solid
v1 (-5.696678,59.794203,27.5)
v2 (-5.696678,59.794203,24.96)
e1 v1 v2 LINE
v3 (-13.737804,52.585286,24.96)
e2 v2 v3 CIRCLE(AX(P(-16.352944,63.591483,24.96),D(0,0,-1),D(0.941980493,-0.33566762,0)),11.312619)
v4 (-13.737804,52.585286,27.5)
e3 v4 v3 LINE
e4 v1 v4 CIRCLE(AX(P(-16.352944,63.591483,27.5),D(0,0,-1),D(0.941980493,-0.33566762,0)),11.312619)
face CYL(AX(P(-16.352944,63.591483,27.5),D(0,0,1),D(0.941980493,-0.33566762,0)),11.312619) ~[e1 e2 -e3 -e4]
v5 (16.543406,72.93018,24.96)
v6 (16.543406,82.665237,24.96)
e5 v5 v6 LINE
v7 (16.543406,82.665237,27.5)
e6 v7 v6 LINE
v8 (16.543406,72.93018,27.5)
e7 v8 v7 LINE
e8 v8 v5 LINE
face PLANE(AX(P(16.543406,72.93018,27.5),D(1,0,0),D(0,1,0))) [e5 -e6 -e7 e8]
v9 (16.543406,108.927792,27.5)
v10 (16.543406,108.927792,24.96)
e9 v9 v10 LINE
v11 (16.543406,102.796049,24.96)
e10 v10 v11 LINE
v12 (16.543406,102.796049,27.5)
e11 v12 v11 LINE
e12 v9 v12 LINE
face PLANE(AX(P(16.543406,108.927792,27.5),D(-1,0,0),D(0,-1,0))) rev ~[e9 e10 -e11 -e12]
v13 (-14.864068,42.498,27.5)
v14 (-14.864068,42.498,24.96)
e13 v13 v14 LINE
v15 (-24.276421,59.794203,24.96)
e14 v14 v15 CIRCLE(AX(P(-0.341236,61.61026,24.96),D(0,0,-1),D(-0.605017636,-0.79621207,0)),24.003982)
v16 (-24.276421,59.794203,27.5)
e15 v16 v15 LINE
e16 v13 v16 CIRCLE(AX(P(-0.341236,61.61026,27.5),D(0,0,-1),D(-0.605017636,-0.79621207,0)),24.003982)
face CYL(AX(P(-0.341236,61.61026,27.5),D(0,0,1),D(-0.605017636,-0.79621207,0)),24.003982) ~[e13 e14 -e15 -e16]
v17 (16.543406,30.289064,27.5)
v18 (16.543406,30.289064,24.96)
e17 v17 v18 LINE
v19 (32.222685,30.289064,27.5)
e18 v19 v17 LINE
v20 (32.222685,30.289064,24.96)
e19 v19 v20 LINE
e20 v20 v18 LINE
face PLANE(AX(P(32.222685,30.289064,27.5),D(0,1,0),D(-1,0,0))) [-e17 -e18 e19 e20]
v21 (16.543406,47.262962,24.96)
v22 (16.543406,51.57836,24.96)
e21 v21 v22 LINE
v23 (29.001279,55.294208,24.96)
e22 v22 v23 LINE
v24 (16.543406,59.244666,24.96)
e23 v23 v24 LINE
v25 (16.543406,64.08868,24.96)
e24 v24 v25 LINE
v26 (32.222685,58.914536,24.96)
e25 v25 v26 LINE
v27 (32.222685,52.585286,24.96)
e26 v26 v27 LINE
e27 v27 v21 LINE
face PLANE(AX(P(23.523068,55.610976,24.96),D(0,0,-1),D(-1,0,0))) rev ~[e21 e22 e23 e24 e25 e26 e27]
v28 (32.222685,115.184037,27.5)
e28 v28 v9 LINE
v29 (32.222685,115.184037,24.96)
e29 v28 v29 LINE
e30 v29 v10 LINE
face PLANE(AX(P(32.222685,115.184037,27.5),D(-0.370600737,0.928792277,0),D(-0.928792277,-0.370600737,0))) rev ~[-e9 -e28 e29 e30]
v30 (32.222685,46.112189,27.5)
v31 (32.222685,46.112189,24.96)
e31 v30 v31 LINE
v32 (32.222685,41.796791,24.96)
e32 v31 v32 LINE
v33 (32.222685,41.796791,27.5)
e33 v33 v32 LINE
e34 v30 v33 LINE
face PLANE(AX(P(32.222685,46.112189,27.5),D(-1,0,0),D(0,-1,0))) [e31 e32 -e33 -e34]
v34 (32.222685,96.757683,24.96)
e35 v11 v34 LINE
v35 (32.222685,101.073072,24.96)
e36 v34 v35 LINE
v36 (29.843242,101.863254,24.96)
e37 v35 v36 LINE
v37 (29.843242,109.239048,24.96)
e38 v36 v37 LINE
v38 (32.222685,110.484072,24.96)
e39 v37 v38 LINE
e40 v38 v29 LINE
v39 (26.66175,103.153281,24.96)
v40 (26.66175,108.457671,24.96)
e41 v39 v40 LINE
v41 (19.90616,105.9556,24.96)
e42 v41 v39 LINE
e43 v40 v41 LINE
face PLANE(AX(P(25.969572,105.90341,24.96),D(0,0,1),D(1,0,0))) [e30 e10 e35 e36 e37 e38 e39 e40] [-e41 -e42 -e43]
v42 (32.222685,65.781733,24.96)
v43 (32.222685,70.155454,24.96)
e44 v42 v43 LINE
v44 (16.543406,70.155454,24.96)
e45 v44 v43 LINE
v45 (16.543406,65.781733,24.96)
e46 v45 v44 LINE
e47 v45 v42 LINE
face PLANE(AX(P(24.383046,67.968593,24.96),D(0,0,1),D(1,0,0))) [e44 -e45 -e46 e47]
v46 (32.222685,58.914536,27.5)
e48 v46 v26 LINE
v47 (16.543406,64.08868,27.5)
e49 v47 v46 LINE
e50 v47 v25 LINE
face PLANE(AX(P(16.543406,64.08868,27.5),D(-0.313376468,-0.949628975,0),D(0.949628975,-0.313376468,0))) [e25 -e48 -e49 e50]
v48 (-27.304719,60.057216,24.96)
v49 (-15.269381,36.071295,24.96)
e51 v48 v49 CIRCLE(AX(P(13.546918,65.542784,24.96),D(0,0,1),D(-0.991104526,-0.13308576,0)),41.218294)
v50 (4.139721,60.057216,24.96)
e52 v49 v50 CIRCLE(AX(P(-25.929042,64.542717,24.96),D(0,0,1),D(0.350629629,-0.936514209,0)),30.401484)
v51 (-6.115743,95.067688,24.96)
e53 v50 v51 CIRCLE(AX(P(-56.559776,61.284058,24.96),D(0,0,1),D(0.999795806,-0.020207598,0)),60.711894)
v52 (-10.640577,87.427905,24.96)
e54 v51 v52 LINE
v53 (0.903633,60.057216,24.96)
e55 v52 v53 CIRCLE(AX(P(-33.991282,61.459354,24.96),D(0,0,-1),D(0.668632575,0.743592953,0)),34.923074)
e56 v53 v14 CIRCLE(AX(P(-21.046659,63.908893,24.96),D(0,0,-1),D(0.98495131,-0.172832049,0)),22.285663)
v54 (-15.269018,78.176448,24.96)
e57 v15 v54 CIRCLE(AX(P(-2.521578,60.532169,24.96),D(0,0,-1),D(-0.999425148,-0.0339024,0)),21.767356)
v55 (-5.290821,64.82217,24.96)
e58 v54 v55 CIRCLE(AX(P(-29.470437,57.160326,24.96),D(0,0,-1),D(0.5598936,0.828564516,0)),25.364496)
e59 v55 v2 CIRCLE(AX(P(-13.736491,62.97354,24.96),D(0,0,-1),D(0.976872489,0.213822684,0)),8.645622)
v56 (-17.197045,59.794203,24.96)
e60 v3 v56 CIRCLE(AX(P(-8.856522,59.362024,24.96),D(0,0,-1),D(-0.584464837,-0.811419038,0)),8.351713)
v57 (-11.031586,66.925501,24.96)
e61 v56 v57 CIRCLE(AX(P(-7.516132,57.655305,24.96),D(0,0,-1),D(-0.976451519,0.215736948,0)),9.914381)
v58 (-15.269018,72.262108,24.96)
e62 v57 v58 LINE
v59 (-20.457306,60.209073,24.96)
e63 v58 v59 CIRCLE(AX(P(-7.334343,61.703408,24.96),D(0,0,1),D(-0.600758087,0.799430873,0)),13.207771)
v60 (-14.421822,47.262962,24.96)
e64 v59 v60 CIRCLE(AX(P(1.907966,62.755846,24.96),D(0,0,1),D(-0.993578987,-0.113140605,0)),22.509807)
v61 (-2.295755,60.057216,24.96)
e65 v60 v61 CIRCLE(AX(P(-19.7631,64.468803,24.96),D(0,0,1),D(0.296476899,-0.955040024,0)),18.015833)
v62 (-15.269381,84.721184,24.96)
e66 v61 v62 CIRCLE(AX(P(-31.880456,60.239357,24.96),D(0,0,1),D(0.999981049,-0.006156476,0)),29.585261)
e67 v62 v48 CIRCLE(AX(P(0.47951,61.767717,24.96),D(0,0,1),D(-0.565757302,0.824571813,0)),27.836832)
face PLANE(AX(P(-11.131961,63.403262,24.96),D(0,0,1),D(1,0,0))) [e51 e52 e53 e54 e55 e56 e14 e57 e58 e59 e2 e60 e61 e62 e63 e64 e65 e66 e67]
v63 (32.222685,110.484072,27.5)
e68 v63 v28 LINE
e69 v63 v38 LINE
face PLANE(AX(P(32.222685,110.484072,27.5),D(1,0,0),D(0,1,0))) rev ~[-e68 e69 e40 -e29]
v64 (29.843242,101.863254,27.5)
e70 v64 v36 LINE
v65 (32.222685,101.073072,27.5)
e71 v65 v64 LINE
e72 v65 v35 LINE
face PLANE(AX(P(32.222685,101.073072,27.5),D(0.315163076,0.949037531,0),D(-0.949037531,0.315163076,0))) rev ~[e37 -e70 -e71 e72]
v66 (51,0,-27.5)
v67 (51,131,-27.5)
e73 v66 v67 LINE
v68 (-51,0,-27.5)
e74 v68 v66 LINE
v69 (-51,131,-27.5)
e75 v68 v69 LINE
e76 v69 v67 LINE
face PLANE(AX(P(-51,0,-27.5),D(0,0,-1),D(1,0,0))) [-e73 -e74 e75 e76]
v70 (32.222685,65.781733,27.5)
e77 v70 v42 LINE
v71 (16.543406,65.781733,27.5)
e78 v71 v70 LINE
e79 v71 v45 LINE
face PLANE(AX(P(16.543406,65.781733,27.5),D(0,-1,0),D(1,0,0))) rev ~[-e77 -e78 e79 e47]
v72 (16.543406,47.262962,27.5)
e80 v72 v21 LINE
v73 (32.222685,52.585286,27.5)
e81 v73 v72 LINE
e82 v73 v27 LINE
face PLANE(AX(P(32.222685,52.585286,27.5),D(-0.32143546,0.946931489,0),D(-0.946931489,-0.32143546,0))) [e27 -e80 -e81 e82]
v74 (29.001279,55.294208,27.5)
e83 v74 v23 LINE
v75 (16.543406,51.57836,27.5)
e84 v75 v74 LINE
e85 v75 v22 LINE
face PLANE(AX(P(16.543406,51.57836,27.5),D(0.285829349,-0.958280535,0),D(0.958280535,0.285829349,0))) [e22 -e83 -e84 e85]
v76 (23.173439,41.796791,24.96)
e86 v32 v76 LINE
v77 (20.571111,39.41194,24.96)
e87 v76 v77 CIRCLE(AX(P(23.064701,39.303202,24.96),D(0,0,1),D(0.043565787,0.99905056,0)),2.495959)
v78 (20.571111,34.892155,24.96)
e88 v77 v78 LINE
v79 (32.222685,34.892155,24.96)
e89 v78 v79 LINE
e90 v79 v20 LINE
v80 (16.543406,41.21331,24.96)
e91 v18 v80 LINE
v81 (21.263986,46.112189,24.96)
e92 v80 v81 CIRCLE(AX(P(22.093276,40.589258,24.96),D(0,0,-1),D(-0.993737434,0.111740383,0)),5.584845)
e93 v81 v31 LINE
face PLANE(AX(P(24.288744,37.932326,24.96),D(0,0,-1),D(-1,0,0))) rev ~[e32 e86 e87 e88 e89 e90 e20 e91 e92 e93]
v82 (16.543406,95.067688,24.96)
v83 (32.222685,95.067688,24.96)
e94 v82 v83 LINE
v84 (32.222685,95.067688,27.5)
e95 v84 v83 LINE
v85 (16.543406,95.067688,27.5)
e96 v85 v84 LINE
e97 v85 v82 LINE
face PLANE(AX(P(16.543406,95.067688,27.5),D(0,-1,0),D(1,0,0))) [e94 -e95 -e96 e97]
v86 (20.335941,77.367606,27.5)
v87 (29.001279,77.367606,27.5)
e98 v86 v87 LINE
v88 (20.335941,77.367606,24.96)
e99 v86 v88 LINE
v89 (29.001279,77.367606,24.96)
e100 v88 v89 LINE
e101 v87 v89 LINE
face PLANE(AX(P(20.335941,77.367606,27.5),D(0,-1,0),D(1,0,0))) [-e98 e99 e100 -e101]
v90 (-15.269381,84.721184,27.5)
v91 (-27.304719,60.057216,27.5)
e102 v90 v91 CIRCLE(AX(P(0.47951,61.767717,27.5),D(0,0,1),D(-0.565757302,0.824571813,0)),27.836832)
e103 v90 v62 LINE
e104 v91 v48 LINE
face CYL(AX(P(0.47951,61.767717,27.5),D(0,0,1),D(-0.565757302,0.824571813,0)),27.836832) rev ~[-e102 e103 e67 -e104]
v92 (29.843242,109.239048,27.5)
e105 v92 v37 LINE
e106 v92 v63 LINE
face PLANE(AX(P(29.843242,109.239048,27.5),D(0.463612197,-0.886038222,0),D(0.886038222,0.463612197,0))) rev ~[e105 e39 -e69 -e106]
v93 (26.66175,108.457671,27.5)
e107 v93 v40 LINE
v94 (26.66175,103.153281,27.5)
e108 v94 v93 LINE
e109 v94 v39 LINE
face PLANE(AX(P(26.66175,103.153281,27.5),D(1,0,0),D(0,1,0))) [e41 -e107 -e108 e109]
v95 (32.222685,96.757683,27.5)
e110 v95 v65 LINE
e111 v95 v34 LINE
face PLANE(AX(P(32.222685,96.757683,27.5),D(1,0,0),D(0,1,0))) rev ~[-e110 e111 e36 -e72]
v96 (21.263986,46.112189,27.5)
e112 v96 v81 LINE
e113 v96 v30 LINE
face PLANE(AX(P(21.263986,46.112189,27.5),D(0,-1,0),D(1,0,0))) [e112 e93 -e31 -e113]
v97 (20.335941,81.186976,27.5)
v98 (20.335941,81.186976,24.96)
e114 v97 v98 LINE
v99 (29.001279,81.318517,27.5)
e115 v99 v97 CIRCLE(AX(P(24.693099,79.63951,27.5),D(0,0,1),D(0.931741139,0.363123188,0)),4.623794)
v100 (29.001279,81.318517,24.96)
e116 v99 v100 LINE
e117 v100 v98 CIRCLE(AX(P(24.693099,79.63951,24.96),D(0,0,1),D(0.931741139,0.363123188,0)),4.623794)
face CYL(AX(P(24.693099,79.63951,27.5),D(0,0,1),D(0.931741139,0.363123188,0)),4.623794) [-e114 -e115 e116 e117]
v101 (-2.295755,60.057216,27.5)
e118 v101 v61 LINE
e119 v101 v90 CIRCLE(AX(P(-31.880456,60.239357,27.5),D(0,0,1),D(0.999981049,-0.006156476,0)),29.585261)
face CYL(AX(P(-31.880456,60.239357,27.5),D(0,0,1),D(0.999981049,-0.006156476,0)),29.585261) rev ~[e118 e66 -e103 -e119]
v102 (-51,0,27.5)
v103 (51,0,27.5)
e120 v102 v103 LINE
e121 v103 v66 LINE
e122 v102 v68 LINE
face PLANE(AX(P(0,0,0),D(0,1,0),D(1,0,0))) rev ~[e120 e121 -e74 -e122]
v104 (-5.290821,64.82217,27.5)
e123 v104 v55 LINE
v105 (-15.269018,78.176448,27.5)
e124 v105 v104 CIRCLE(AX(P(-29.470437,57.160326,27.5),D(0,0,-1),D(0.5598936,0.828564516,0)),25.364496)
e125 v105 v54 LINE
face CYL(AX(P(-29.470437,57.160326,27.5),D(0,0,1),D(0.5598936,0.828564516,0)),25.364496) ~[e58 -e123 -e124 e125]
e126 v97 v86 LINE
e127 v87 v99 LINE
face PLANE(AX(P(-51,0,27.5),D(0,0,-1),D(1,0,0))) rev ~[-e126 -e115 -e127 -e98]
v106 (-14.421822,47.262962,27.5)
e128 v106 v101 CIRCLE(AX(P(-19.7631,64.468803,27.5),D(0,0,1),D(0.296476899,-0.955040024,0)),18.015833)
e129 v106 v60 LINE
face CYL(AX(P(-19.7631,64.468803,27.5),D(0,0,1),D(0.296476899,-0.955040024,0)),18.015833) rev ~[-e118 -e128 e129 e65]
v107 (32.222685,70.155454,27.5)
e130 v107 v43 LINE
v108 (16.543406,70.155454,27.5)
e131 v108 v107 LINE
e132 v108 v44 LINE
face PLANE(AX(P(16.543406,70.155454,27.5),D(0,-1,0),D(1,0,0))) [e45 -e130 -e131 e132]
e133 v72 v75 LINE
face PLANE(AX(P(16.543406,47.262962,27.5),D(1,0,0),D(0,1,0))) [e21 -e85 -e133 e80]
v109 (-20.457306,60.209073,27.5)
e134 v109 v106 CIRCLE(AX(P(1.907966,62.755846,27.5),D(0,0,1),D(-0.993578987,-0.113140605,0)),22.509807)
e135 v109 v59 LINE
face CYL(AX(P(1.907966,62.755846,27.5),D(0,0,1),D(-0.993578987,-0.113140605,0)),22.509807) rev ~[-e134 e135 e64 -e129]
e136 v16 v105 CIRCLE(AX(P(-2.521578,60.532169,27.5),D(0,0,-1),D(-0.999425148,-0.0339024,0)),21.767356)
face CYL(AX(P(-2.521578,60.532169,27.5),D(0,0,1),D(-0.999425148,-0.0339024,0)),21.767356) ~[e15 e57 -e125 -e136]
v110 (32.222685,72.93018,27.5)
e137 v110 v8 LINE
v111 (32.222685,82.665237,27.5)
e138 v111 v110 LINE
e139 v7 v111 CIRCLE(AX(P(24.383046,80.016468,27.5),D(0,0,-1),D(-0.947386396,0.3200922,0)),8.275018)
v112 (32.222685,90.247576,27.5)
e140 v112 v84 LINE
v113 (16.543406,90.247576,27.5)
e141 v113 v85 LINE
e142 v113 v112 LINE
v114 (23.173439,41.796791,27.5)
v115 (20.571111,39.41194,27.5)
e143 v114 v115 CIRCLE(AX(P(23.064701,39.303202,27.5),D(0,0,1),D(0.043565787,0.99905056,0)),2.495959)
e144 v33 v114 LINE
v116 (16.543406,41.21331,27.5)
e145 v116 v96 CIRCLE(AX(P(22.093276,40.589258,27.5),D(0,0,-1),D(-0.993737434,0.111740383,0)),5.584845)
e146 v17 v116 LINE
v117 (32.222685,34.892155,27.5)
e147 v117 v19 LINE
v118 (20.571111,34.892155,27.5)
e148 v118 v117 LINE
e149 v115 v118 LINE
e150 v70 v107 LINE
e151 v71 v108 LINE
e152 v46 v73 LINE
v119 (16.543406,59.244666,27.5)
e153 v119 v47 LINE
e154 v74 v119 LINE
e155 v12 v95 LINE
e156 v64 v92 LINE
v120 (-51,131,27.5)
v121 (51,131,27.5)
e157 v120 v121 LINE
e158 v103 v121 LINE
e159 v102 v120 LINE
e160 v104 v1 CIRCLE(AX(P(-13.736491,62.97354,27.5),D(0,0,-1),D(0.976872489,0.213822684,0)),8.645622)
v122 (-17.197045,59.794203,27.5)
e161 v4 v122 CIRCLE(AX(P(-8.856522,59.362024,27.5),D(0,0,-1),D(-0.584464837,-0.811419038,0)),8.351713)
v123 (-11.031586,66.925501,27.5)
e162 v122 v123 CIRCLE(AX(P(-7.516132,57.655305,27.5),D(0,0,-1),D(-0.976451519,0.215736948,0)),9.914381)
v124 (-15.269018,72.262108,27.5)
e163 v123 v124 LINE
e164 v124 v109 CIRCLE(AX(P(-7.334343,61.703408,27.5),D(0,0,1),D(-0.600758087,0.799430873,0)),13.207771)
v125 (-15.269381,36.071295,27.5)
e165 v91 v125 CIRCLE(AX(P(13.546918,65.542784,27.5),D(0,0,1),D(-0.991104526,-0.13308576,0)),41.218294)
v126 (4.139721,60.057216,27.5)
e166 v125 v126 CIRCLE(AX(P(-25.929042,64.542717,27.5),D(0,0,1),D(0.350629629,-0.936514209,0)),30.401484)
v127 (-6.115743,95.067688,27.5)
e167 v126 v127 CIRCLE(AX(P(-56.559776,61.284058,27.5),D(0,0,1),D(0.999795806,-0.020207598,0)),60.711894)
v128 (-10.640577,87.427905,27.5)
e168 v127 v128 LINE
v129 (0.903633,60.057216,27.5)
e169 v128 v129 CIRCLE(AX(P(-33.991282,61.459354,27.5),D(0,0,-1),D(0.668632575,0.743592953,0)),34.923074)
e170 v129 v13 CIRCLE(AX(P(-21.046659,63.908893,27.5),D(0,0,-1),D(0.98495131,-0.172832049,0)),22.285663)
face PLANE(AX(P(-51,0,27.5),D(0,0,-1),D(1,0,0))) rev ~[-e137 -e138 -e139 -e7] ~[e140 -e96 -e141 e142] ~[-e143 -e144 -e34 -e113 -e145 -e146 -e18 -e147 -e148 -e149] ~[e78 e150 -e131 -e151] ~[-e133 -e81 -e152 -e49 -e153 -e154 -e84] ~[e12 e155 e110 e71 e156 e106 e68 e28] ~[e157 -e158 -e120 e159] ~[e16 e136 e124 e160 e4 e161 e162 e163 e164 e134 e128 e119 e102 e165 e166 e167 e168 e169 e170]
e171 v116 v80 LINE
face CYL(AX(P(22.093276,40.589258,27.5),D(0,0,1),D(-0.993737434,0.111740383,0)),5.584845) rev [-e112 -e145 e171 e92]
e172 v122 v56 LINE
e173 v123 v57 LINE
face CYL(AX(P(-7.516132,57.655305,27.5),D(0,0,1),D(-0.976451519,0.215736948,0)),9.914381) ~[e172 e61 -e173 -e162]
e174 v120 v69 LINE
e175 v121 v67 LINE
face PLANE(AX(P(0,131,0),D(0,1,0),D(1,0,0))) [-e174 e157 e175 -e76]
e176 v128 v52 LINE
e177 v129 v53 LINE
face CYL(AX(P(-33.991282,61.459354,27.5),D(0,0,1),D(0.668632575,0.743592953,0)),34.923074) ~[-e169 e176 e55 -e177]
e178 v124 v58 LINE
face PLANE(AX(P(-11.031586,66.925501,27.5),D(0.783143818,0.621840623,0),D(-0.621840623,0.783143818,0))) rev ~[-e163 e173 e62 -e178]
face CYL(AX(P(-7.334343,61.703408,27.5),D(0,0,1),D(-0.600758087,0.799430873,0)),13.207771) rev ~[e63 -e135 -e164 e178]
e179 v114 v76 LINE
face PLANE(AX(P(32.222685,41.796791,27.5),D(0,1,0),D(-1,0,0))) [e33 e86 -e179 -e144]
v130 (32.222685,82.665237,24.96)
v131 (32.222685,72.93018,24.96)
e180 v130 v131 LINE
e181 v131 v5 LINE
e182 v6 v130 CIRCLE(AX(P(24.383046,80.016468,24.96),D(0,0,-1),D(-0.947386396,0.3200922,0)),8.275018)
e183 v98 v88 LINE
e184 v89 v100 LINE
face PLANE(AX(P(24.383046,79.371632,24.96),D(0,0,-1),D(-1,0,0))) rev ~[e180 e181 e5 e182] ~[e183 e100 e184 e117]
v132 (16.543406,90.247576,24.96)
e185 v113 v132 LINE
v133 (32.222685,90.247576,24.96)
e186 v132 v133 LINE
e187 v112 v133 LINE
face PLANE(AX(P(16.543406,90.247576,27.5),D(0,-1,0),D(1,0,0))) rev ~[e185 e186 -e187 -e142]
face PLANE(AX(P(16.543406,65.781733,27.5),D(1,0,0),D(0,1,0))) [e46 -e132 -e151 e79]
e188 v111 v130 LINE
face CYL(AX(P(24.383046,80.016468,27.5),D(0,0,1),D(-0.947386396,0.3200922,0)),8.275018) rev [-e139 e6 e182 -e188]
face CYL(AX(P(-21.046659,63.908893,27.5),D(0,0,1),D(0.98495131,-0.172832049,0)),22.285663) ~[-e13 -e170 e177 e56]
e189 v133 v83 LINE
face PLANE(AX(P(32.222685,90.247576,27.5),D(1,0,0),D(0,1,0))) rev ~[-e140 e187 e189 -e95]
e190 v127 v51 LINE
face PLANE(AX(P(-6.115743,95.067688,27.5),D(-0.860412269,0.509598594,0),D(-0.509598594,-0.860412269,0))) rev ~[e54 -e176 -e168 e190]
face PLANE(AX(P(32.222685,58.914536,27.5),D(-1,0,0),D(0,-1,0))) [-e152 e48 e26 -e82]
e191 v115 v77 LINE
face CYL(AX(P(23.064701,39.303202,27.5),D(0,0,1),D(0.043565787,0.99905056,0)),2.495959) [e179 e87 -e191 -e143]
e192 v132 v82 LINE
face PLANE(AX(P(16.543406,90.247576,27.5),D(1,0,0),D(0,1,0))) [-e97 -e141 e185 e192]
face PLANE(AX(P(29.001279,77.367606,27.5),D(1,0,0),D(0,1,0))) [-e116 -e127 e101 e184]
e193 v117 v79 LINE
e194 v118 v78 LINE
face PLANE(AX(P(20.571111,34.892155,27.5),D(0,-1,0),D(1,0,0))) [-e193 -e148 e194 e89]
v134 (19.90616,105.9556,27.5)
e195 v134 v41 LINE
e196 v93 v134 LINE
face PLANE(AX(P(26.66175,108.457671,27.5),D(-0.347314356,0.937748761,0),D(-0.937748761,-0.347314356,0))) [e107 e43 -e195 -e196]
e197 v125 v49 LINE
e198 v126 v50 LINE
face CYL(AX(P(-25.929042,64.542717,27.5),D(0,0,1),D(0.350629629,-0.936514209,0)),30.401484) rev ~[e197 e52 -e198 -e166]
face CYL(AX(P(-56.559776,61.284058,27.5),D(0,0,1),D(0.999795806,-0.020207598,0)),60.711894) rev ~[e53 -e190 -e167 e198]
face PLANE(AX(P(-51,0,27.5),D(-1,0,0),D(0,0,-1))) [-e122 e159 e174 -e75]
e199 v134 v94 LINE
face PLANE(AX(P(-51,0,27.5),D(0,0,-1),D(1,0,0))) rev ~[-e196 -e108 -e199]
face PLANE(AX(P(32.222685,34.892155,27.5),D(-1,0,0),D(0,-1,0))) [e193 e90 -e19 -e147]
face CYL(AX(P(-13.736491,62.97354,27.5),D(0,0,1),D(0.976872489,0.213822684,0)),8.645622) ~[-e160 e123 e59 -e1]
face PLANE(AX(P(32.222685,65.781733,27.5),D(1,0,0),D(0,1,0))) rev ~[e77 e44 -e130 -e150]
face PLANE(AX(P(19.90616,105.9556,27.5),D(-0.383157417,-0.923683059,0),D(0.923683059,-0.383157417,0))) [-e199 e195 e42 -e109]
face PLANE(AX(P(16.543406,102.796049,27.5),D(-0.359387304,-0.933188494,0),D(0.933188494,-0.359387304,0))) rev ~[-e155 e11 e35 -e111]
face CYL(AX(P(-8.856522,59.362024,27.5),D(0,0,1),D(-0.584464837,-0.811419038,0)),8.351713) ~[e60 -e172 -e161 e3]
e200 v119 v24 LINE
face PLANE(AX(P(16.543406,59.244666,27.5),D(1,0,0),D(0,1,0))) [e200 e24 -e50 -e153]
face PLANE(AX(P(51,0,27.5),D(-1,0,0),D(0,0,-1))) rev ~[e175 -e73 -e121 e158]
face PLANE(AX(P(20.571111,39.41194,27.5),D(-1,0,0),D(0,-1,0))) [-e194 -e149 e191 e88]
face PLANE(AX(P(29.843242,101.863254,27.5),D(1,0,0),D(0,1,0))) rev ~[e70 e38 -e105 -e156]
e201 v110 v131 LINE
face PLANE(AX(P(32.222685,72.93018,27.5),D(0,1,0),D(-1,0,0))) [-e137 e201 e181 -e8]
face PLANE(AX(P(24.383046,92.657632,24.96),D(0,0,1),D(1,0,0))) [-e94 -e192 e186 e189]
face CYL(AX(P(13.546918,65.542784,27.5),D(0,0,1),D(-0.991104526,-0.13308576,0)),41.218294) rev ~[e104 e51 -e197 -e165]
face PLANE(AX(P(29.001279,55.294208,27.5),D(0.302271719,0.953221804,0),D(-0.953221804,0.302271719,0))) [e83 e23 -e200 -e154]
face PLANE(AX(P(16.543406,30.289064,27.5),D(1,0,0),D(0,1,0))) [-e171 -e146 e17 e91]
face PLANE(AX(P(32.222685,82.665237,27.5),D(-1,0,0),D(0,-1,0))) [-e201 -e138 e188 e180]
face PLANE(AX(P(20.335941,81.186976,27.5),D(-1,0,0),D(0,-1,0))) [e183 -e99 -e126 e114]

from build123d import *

# Parameters (mm, degrees)
SKETCH1_W           = 102
SKETCH1_H           = 55
BOSS_EXTRUDE1_DEPTH = 131
SKETCH2_W           = 15.67927859
SKETCH2_H           = 4.373721057
SKETCH2_H_2         = 4.820111396
CUT_EXTRUDE1_DEPTH  = 2.54


with BuildPart() as part:
    # Sketch1 → Boss-Extrude1 (new body)
    with BuildSketch(Plane(origin=(0, 0, 0), x_dir=(1, 0, 0), z_dir=(0, 1, 0))):
        Rectangle(SKETCH1_W, SKETCH1_H)
    extrude(amount=BOSS_EXTRUDE1_DEPTH)

    # Sketch2 → Cut-Extrude1 (cut)
    # profile 1 of 7: a face of its own
    with BuildSketch(Plane.XY.offset(27.5)):
        with BuildLine():
            Line((32.222685011, 30.289063801), (16.543406421, 30.289063801))
            Line((16.543406421, 30.289063801), (16.543406421, 41.213310419))
            ThreePointArc((16.543406421, 41.213310419), (18.071687856, 44.464476673), (21.263986447, 46.112188983))
            Line((21.263986447, 46.112188983), (32.222685011, 46.112188983))
            Line((32.222685011, 46.112188983), (32.222685011, 41.796791207))
            Line((32.222685011, 41.796791207), (23.173438966, 41.796791207))
            ThreePointArc((23.173438966, 41.796791207), (21.378356157, 41.143325428), (20.571111013, 39.411940118))
            Line((20.571111013, 39.411940118), (20.571111013, 34.892154763))
            Line((20.571111013, 34.892154763), (32.222685011, 34.892154763))
            Line((32.222685011, 34.892154763), (32.222685011, 30.289063801))
        make_face()
    # profile 2 of 7: a face of its own
    with BuildSketch(Plane.XY.offset(27.5)):
        Polygon((32.222685011, 58.914535722), (32.222685011, 52.585285649), (16.543406421, 47.262961724), (16.543406421, 51.578359501), (29.001278605, 55.294208224), (16.543406421, 59.244665953), (16.543406421, 64.088679598), align=None)
    # profile 3 of 7: a face of its own
    with BuildSketch(Plane.XY.offset(27.5)):
        with Locations((24.383045716, 67.968593438)):
            Rectangle(SKETCH2_W, SKETCH2_H)
    # profile 4 of 7: a face of its own
    with BuildSketch(Plane.XY.offset(27.5)):
        with BuildLine():
            Line((32.222685011, 72.930180229), (16.543406421, 72.930180229))
            Line((16.543406421, 72.930180229), (16.543406421, 82.665236776))
            ThreePointArc((16.543406421, 82.665236776), (24.383045716, 88.291485928), (32.222685011, 82.665236776))
            Line((32.222685011, 82.665236776), (32.222685011, 72.930180229))
        make_face()
        with BuildLine():
            Line((20.335941045, 81.186975839), (20.335941045, 77.367606352))
            Line((20.335941045, 77.367606352), (29.001278605, 77.367606352))
            Line((29.001278605, 77.367606352), (29.001278605, 81.318517332))
            ThreePointArc((29.001278605, 81.318517332), (24.622917057, 84.262772166), (20.335941045, 81.186975839))
        make_face(mode=Mode.SUBTRACT)
    # profile 5 of 7: a face of its own
    with BuildSketch(Plane.XY.offset(27.5)):
        with Locations((24.383045716, 92.657631845)):
            Rectangle(SKETCH2_W, SKETCH2_H_2)
    # profile 6 of 7: a face of its own
    with BuildSketch(Plane.XY.offset(27.5)):
        Polygon((32.222685011, 96.757683119), (32.222685011, 101.073072233), (29.843242059, 101.863254429), (29.843242059, 109.239047859), (32.222685011, 110.484071773), (32.222685011, 115.184037049), (16.543406421, 108.92779188), (16.543406421, 102.796049103), align=None)
        Polygon((26.661750428, 108.457670817), (19.906160177, 105.955600354), (26.661750428, 103.153281435), align=None, mode=Mode.SUBTRACT)
    # profile 7 of 7: a face of its own
    with BuildSketch(Plane.XY.offset(27.5)):
        with BuildLine():
            Line((-6.115743329, 95.067687543), (-10.640576822, 87.427905373))
            ThreePointArc((-10.640576822, 87.427905373), (-1.813234505, 75.031176459), (0.903633442, 60.057216105))
            ThreePointArc((0.903633442, 60.057216105), (-4.465154431, 49.019149341), (-14.864068382, 42.497999922))
            ThreePointArc((-14.864068382, 42.497999922), (-21.425458539, 50.136520198), (-24.276421001, 59.794203453))
            ThreePointArc((-24.276421001, 59.794203453), (-22.06840901, 70.110226473), (-15.269017603, 78.17644767))
            ThreePointArc((-15.269017603, 78.17644767), (-9.151476423, 72.34247097), (-5.290820846, 64.822169595))
            ThreePointArc((-5.290820846, 64.822169595), (-5.118898357, 62.277928614), (-5.69667759, 59.794203453))
            ThreePointArc((-5.69667759, 59.794203453), (-8.801475151, 55.16826153), (-13.737803966, 52.585285649))
            ThreePointArc((-13.737803966, 52.585285649), (-16.38620677, 55.748861503), (-17.197044672, 59.794203453))
            ThreePointArc((-17.197044672, 59.794203453), (-15.016123652, 64.139522978), (-11.03158578, 66.925501483))
            Line((-11.03158578, 66.925501483), (-15.269017603, 72.262107708))
            ThreePointArc((-15.269017603, 72.262107708), (-19.465910752, 66.925501483), (-20.457305995, 60.20907285))
            ThreePointArc((-20.457305995, 60.20907285), (-18.493685046, 53.244585471), (-14.421821953, 47.262961724))
            ThreePointArc((-14.421821953, 47.262961724), (-6.68710858, 52.075713319), (-2.295755467, 60.057216105))
            ThreePointArc((-2.295755467, 60.057216105), (-5.69667759, 74.012425991), (-15.269380997, 84.721184263))
            ThreePointArc((-15.269380997, 84.721184263), (-24.537703565, 73.975429659), (-27.304719411, 60.057216105))
            ThreePointArc((-27.304719411, 60.057216105), (-23.293771998, 47.057349301), (-15.269380997, 36.07129518))
            ThreePointArc((-15.269380997, 36.07129518), (-2.295755467, 45.418962155), (4.139721094, 60.057216105))
            ThreePointArc((4.139721094, 60.057216105), (1.703886183, 78.350977538), (-6.115743329, 95.067687543))
        make_face()
    extrude(amount=-CUT_EXTRUDE1_DEPTH, mode=Mode.SUBTRACT)


solid = part.part
